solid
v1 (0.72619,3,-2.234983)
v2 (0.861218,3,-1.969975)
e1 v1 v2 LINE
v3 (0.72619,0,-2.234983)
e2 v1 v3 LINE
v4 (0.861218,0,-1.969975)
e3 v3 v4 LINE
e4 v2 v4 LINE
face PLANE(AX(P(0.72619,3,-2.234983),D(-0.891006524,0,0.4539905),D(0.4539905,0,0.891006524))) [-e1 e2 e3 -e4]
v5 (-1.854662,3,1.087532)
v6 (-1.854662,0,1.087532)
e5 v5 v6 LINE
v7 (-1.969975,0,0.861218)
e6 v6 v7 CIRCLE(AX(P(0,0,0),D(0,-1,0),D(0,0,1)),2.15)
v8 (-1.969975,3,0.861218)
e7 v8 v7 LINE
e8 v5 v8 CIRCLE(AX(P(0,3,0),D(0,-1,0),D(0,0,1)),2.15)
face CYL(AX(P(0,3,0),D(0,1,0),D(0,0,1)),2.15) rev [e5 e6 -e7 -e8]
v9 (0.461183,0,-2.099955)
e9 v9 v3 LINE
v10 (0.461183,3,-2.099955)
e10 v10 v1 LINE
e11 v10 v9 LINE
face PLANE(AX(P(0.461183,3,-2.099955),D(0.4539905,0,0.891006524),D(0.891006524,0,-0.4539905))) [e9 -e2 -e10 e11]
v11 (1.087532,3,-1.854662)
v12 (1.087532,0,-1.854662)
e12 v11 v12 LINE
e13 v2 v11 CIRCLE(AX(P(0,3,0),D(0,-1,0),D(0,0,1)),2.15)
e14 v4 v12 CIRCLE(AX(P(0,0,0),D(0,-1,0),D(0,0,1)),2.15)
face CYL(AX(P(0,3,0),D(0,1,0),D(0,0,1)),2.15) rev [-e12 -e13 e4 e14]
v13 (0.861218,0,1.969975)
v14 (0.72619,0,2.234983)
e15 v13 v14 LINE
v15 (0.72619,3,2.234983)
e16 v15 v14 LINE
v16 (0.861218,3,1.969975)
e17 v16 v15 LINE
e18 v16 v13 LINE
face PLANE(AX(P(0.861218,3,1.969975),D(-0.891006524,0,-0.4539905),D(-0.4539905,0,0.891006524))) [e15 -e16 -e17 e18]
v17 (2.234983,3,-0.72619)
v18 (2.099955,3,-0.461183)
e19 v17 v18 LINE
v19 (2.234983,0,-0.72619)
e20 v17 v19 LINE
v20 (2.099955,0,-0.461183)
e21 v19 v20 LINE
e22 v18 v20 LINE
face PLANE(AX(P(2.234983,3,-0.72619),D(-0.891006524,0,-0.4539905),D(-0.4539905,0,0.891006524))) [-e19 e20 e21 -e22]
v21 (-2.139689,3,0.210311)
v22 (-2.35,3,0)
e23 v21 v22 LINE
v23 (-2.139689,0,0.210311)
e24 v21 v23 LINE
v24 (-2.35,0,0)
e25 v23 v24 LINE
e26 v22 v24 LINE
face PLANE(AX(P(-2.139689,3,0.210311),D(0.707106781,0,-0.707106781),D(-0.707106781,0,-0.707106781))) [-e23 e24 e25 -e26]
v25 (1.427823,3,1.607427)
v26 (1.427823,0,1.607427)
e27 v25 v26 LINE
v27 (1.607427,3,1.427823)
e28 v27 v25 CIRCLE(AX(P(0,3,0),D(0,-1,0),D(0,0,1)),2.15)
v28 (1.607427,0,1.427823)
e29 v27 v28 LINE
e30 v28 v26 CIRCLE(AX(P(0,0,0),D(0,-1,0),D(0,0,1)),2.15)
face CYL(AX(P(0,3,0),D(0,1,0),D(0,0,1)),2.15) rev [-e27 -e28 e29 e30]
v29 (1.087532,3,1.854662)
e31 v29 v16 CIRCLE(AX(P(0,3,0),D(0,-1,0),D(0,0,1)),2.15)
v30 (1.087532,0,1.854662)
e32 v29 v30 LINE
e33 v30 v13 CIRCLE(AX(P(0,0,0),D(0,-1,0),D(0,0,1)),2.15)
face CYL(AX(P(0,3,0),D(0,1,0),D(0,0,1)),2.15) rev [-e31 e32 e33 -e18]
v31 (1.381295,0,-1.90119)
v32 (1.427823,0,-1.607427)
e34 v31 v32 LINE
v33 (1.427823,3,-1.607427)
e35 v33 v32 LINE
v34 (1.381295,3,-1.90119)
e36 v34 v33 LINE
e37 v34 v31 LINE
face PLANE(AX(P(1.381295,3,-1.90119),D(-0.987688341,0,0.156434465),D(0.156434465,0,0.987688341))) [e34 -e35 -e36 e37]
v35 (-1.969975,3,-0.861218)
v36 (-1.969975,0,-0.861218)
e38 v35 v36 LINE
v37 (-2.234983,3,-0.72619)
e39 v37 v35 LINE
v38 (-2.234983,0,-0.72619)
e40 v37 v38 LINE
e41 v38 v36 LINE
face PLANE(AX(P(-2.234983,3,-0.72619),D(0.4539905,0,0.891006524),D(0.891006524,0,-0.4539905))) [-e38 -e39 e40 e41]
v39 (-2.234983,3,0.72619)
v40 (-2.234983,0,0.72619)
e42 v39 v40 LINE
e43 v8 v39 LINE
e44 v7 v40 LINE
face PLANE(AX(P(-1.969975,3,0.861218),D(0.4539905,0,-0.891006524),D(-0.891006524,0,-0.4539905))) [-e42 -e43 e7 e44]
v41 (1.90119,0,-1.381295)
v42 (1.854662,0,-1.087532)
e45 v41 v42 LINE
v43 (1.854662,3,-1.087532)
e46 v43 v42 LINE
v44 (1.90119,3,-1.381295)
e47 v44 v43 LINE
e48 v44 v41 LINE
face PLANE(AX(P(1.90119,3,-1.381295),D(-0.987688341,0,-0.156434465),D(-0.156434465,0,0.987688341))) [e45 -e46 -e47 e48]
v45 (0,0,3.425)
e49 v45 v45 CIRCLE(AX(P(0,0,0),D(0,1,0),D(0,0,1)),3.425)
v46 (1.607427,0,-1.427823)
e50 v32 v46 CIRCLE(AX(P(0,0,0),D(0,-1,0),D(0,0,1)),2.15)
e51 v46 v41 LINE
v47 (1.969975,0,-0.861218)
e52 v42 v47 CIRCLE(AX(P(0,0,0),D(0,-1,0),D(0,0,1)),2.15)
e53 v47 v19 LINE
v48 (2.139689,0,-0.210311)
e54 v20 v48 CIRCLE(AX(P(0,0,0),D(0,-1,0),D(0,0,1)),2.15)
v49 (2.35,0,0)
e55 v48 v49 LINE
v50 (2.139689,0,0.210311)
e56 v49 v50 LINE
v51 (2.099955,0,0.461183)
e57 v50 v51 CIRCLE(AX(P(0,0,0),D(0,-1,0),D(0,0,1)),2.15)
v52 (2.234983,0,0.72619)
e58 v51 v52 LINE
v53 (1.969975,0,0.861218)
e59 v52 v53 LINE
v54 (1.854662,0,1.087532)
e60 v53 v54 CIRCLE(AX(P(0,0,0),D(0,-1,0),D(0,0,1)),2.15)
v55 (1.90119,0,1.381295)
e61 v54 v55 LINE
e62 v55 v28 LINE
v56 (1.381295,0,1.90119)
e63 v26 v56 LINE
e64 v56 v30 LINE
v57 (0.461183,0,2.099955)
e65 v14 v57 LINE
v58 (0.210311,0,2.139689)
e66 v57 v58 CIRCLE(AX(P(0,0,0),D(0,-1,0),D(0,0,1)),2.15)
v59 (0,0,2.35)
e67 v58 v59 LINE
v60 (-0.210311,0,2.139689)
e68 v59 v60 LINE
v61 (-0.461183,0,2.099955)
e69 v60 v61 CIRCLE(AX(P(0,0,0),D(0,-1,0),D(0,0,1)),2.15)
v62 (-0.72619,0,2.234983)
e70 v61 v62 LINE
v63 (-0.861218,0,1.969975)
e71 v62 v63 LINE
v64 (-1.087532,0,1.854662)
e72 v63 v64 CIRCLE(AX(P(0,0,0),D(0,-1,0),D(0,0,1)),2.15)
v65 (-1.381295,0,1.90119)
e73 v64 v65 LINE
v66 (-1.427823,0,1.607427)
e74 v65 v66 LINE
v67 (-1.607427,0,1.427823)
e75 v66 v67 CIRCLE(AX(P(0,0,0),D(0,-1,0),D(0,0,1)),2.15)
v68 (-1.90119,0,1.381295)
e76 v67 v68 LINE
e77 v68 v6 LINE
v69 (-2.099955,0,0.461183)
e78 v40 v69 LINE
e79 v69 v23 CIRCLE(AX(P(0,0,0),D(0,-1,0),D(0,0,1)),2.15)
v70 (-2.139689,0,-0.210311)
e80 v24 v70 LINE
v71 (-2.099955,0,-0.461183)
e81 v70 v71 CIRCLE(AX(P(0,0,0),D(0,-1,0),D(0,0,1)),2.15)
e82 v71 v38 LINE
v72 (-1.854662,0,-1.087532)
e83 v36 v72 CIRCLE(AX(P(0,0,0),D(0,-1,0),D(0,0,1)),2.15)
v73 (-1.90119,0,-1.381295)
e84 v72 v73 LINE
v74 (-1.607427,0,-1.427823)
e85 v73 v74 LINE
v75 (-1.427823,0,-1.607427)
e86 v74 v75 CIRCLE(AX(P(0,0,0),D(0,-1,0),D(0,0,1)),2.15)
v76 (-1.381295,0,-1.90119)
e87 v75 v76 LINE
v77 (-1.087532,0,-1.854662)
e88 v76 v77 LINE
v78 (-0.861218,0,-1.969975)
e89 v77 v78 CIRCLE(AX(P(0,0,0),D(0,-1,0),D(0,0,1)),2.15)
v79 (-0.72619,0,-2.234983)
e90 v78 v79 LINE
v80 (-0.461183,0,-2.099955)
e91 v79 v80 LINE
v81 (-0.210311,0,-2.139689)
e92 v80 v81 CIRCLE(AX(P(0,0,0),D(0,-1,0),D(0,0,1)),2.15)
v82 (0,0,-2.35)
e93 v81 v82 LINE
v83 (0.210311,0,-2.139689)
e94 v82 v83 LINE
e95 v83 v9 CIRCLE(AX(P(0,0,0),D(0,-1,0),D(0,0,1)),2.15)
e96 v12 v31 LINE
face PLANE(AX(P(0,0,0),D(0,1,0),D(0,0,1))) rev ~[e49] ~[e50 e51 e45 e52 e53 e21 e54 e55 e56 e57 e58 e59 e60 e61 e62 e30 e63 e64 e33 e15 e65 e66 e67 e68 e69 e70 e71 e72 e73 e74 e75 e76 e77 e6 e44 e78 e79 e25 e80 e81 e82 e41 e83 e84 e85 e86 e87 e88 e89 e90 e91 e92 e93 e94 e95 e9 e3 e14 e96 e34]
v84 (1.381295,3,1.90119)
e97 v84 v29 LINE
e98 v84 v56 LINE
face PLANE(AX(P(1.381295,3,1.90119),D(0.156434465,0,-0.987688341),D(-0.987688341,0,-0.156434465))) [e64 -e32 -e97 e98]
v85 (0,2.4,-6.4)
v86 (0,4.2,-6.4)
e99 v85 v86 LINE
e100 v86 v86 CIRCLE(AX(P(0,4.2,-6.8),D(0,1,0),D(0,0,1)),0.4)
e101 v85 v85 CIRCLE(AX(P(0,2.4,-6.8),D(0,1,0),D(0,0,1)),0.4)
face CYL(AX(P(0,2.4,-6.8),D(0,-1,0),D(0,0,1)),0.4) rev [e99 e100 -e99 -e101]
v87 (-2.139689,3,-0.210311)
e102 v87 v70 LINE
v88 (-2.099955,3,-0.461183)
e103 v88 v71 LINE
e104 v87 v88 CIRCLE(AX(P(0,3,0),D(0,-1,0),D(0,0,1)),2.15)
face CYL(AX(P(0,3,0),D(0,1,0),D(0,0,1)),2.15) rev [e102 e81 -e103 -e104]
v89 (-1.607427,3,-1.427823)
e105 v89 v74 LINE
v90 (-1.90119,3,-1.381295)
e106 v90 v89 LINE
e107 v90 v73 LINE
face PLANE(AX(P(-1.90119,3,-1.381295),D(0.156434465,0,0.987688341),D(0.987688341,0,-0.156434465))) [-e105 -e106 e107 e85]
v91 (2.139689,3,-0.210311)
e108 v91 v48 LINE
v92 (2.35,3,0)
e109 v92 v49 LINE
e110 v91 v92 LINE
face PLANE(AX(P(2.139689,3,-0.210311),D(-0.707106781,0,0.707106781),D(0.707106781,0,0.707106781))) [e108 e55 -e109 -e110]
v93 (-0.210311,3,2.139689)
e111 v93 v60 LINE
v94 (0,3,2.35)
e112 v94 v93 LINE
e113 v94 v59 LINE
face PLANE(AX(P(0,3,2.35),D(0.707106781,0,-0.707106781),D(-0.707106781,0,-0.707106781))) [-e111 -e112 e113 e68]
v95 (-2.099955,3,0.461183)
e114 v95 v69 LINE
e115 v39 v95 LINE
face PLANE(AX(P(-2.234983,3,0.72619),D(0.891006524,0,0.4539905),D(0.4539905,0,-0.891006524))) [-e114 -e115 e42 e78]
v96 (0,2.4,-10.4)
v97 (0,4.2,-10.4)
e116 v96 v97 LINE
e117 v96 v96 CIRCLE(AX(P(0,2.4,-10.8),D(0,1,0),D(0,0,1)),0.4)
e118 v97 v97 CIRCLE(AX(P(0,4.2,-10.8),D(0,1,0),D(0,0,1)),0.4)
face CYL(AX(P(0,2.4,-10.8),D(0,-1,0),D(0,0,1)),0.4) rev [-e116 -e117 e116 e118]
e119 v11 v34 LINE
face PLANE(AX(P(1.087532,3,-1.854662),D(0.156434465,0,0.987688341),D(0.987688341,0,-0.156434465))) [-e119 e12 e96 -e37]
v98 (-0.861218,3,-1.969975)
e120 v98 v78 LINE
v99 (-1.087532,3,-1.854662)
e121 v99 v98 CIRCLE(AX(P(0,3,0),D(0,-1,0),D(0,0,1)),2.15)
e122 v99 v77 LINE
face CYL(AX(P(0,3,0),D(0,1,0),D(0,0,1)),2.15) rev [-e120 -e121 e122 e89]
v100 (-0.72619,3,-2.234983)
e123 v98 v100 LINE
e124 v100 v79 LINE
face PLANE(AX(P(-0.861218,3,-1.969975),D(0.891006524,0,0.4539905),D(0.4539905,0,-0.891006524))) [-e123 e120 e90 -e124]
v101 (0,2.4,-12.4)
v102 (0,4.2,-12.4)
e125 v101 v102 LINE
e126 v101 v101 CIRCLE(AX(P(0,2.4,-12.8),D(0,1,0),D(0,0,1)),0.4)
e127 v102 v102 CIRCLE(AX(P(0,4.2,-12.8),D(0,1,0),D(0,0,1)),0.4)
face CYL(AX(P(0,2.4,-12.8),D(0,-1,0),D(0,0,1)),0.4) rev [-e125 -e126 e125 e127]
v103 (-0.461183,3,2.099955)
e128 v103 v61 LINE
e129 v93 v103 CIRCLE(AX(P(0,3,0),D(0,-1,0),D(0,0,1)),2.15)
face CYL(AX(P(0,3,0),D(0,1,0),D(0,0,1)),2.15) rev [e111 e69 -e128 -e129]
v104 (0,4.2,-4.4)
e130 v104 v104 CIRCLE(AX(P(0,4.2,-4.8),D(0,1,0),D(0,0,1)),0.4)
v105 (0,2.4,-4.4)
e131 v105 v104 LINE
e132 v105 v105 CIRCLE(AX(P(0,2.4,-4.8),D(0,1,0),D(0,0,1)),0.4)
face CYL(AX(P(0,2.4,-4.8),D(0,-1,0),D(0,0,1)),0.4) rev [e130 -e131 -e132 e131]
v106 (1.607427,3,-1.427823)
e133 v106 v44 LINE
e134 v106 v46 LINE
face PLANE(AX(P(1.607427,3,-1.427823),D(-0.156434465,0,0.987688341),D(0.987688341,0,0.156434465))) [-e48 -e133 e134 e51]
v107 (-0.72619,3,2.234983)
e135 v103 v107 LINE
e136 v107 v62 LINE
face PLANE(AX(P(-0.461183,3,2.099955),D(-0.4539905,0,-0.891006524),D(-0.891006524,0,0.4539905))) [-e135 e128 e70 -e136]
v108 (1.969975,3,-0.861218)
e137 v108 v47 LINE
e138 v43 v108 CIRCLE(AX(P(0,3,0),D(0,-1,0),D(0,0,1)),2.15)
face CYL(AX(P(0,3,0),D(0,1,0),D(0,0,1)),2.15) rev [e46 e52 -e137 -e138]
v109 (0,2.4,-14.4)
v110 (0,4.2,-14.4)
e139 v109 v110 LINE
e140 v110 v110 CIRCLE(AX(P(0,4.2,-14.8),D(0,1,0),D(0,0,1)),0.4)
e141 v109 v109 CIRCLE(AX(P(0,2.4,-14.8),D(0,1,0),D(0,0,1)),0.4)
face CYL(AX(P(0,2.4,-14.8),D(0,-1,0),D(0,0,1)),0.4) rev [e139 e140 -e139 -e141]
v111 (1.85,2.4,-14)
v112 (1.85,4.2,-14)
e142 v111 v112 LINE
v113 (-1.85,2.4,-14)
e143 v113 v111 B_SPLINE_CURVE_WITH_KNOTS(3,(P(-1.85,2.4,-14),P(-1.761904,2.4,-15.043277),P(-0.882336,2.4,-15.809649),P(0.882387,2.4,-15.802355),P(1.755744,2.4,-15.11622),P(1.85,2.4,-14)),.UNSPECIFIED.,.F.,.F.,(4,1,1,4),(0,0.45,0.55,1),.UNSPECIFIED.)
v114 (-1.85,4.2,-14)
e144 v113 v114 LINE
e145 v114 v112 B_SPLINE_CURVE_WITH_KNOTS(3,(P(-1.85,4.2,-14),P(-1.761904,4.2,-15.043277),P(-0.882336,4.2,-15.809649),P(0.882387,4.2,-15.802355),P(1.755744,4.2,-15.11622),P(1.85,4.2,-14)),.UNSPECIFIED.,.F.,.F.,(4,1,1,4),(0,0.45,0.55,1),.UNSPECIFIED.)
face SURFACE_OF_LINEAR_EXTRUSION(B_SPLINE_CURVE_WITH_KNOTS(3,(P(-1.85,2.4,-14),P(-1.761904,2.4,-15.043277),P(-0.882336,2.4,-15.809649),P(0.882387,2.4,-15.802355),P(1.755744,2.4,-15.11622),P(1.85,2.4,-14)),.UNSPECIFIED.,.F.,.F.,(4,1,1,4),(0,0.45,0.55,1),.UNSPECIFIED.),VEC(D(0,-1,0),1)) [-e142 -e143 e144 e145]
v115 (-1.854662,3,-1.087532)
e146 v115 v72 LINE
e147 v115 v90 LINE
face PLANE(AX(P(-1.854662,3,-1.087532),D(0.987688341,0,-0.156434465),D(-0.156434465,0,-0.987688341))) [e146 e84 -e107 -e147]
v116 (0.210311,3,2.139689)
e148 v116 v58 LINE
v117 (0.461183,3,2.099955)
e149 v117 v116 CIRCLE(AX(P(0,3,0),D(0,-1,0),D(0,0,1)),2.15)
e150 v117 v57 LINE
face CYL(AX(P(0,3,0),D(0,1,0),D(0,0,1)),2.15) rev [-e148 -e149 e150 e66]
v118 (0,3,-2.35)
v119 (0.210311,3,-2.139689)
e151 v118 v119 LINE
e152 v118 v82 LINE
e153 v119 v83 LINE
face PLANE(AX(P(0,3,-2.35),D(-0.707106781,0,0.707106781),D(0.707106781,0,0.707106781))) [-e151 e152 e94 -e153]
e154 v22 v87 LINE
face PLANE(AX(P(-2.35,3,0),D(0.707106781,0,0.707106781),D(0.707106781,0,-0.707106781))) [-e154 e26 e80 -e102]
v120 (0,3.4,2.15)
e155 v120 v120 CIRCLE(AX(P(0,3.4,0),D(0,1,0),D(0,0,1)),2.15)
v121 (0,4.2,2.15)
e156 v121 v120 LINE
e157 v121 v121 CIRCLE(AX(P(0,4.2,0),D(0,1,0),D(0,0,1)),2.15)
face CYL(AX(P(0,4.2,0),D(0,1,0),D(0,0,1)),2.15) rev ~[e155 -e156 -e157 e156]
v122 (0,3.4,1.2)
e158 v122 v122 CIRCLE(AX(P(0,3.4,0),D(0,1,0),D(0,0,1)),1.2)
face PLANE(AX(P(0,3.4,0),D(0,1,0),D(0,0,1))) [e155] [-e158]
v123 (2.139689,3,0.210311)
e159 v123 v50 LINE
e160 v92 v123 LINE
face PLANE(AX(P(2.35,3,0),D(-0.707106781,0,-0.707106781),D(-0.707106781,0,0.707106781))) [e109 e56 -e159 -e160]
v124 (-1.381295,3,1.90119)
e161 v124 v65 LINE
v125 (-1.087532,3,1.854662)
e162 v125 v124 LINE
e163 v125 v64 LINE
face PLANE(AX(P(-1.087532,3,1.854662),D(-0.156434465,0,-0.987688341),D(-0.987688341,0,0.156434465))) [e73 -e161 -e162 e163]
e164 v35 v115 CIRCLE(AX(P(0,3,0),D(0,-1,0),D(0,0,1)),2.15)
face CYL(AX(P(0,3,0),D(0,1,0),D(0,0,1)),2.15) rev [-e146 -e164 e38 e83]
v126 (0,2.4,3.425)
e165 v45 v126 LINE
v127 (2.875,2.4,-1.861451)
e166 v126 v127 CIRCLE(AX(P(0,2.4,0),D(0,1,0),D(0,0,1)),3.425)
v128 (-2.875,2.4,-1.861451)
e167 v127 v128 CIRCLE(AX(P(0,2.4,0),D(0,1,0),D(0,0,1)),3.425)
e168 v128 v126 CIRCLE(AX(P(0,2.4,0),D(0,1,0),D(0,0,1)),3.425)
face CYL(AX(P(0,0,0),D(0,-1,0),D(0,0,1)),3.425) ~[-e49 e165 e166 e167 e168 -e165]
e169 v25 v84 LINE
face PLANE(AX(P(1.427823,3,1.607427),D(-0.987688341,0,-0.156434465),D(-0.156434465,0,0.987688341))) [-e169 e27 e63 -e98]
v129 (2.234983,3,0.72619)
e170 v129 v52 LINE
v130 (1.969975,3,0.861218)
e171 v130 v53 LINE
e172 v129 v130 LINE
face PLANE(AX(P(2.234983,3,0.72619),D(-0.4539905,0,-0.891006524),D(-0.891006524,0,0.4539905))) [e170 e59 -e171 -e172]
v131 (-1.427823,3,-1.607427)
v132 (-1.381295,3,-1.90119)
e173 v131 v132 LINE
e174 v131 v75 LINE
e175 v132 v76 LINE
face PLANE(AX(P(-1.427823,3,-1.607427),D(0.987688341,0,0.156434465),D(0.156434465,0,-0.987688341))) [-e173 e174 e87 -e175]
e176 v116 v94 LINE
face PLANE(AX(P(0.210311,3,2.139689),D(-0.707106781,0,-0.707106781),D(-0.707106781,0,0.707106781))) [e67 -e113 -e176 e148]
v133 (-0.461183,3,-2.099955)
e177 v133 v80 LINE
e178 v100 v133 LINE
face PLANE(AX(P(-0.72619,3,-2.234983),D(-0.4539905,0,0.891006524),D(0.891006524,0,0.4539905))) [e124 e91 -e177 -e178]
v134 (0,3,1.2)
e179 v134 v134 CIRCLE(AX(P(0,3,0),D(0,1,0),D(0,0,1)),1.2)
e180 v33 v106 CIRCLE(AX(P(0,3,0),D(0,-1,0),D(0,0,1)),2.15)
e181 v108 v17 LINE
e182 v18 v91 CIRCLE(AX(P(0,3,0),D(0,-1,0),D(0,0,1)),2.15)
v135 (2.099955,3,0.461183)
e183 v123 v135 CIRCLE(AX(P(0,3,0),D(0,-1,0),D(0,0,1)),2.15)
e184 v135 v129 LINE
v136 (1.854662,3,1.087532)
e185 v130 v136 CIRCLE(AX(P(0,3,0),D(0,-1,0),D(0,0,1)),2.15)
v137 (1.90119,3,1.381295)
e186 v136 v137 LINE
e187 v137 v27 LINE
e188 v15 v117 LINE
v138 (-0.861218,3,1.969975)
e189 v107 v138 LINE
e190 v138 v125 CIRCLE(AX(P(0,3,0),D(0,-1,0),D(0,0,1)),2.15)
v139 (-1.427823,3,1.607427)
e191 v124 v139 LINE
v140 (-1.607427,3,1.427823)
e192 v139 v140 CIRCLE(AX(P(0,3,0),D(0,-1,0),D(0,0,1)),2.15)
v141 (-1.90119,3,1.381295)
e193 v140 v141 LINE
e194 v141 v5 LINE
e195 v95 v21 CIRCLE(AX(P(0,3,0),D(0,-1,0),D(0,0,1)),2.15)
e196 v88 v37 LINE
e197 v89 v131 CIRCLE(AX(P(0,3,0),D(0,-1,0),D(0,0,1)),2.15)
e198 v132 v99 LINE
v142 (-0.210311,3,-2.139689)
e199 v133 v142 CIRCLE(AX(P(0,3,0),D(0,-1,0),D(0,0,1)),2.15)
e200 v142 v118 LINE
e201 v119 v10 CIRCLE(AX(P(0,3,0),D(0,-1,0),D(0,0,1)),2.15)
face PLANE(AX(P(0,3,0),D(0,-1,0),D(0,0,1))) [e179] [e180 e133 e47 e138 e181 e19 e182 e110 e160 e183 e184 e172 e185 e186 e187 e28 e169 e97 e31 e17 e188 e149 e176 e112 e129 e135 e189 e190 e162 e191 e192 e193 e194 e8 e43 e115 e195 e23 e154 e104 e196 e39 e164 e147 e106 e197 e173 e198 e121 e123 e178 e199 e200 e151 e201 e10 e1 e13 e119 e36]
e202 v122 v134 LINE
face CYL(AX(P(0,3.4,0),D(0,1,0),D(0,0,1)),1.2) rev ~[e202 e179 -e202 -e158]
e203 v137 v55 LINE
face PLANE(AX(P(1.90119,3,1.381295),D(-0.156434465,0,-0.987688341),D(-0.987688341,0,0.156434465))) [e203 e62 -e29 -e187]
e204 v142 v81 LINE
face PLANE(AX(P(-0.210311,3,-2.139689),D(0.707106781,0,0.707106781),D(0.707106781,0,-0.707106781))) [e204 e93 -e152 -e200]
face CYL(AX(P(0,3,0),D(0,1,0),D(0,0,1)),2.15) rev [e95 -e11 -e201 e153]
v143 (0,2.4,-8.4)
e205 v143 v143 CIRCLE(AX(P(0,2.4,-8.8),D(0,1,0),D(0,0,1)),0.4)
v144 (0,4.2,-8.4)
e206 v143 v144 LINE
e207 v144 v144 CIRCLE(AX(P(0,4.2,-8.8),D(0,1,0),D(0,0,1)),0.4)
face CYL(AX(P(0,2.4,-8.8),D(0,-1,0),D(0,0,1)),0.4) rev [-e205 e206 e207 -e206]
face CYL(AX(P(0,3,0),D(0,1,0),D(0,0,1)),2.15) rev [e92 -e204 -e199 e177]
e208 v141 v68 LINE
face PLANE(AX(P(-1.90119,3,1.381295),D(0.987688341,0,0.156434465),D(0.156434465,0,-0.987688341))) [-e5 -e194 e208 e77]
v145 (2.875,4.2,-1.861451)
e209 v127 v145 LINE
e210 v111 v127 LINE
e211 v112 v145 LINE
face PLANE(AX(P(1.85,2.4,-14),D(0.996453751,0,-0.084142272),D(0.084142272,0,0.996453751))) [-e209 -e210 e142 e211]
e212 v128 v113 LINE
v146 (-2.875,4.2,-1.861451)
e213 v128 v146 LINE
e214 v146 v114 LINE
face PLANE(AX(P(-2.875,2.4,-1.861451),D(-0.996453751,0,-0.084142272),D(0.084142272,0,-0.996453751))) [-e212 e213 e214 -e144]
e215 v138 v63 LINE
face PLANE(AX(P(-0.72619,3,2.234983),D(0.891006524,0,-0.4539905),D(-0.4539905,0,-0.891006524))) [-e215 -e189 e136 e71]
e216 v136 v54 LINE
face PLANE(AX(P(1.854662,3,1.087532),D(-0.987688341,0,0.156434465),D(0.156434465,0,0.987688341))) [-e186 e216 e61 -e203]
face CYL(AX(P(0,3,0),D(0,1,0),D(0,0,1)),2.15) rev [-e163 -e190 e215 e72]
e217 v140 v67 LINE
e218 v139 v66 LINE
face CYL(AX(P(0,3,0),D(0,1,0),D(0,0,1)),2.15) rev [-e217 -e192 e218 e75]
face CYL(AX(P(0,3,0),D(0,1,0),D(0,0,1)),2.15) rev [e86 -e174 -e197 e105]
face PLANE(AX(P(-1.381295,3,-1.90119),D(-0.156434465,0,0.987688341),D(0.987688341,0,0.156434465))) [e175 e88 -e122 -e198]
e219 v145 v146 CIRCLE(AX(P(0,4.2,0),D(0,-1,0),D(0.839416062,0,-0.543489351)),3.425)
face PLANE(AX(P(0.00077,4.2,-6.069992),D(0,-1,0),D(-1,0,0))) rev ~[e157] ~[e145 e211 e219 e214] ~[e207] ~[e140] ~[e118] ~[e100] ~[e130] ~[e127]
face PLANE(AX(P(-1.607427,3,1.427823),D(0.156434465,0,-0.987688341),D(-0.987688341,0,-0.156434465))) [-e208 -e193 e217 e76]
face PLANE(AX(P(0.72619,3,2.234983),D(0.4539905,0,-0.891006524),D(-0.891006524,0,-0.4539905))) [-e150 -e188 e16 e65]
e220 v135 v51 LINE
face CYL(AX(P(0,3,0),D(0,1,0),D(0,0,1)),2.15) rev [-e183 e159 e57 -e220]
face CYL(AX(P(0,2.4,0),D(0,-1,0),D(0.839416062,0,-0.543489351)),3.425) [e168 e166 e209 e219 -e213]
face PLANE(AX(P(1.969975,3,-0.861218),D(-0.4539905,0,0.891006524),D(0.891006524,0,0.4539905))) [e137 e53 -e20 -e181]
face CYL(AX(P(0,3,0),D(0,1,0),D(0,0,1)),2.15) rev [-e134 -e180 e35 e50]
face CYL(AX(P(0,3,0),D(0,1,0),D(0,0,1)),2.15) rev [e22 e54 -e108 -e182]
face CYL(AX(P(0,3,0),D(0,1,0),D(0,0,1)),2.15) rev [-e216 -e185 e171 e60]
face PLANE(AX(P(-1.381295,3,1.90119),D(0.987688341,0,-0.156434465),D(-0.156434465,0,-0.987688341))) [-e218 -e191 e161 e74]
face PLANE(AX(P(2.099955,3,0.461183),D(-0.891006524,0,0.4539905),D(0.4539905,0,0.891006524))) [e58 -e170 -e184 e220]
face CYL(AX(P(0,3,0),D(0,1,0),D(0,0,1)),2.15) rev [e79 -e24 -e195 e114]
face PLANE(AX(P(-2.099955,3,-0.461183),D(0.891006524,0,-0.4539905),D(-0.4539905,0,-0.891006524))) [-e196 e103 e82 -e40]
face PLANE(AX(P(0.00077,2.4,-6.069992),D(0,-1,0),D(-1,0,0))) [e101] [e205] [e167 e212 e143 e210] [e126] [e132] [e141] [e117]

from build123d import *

# Parameters (mm, degrees)
SKETCH1_R           = 3.425
HUB_DEPTH           = 2.4
SKETCH2_R           = 0.4
BOSS_EXTRUDE2_DEPTH = 1.8
SKETCH3_R           = 2.15
CUT_EXTRUDE1_DEPTH  = 0.8
SKETCH4_R           = 1.2
CUT_EXTRUDE2_DEPTH  = 17.520612
CUT_EXTRUDE3_START  = -3
CUT_EXTRUDE3_DEPTH  = 3
CIRPATTERN1_COUNT   = 20
CUT_EXTRUDE4_START  = -3
SKETCH6_R           = 2.15
CUT_EXTRUDE4_DEPTH  = 3


with BuildPart() as part:
    # Sketch1 → HUB (new body)
    with BuildSketch(Plane(origin=(0, 0, 0), x_dir=(1, 0, 0), z_dir=(0, 1, 0))):
        with Locations(Location((0, 0, 0), (0, 0, 270))):
            Circle(SKETCH1_R)
    extrude(amount=HUB_DEPTH)

    # Sketch2 → Boss-Extrude2 (add)
    with BuildSketch(Plane(origin=(0, 2.4, 0), x_dir=(1, 0, 0), z_dir=(0, 1, 0))):
        with BuildLine():
            Line((-2.875, 1.861451), (-1.85, 14))
            add(Edge.make_bspline(
                [(-1.85, 14), (-1.761904, 15.043277), (-0.882336, 15.809649), (0.882387, 15.802355), (1.755744, 15.11622), (1.85, 14)],
                knots=[0, 0, 0, 0, 0.45, 0.55, 1, 1, 1, 1], degree=3))
            Line((1.85, 14), (2.875, 1.861451))
            ThreePointArc((2.875, 1.861451), (0, -3.425), (-2.875, 1.861451))
        make_face()
        with Locations(Location((0, 14.8, 0), (0, 0, 270))):
            Circle(SKETCH2_R, mode=Mode.SUBTRACT)
        with Locations(Location((0, 12.8, 0), (0, 0, 270))):
            Circle(SKETCH2_R, mode=Mode.SUBTRACT)
        with Locations(Location((0, 10.8, 0), (0, 0, 270))):
            Circle(SKETCH2_R, mode=Mode.SUBTRACT)
        with Locations(Location((0, 8.8, 0), (0, 0, 270))):
            Circle(SKETCH2_R, mode=Mode.SUBTRACT)
        with Locations(Location((0, 6.8, 0), (0, 0, 270))):
            Circle(SKETCH2_R, mode=Mode.SUBTRACT)
        with Locations(Location((0, 4.8, 0), (0, 0, 270))):
            Circle(SKETCH2_R, mode=Mode.SUBTRACT)
    extrude(amount=BOSS_EXTRUDE2_DEPTH)

    # Sketch3 → Cut-Extrude1 (cut)
    with BuildSketch(Plane(origin=(0, 4.2, 0), x_dir=(1, 0, 0), z_dir=(0, 1, 0))):
        with Locations(Location((0, 0, 0), (0, 0, 270))):
            Circle(SKETCH3_R)
    extrude(amount=-CUT_EXTRUDE1_DEPTH, mode=Mode.SUBTRACT)

    # Sketch4 → Cut-Extrude2 (cut, through all)
    with BuildSketch(Plane(origin=(0, 3.4, 0), x_dir=(1, 0, 0), z_dir=(0, 1, 0))):
        with Locations(Location((0, 0, 0), (0, 0, 270))):
            Circle(SKETCH4_R)
    extrude(amount=-CUT_EXTRUDE2_DEPTH, mode=Mode.SUBTRACT)

    # Sketch5 → Cut-Extrude3 (cut)
    with BuildSketch(Plane.XZ.offset(CUT_EXTRUDE3_START)):
        with BuildLine():
            Line((0, 2.35), (-0.210311, 2.139689))
            ThreePointArc((-0.210311, 2.139689), (0, 2.15), (0.210311, 2.139689))
            Line((0.210311, 2.139689), (0, 2.35))
        make_face()
    cut_extrude3 = extrude(amount=CUT_EXTRUDE3_DEPTH, mode=Mode.SUBTRACT)

    # CirPattern1: Cut-Extrude3 ×20 about axis
    cirpattern1_axis = Axis((0, 0, 0), (0, 1, 0))
    for i in range(1, CIRPATTERN1_COUNT):
        add(cut_extrude3.rotate(cirpattern1_axis, i * 360 / CIRPATTERN1_COUNT), mode=Mode.SUBTRACT)

    # Sketch6 → Cut-Extrude4 (cut)
    with BuildSketch(Plane.XZ.offset(CUT_EXTRUDE4_START)):
        with Locations(Location((0, 0, 0), (0, 0, 90))):
            Circle(SKETCH6_R)
    extrude(amount=CUT_EXTRUDE4_DEPTH, mode=Mode.SUBTRACT)


solid = part.part
